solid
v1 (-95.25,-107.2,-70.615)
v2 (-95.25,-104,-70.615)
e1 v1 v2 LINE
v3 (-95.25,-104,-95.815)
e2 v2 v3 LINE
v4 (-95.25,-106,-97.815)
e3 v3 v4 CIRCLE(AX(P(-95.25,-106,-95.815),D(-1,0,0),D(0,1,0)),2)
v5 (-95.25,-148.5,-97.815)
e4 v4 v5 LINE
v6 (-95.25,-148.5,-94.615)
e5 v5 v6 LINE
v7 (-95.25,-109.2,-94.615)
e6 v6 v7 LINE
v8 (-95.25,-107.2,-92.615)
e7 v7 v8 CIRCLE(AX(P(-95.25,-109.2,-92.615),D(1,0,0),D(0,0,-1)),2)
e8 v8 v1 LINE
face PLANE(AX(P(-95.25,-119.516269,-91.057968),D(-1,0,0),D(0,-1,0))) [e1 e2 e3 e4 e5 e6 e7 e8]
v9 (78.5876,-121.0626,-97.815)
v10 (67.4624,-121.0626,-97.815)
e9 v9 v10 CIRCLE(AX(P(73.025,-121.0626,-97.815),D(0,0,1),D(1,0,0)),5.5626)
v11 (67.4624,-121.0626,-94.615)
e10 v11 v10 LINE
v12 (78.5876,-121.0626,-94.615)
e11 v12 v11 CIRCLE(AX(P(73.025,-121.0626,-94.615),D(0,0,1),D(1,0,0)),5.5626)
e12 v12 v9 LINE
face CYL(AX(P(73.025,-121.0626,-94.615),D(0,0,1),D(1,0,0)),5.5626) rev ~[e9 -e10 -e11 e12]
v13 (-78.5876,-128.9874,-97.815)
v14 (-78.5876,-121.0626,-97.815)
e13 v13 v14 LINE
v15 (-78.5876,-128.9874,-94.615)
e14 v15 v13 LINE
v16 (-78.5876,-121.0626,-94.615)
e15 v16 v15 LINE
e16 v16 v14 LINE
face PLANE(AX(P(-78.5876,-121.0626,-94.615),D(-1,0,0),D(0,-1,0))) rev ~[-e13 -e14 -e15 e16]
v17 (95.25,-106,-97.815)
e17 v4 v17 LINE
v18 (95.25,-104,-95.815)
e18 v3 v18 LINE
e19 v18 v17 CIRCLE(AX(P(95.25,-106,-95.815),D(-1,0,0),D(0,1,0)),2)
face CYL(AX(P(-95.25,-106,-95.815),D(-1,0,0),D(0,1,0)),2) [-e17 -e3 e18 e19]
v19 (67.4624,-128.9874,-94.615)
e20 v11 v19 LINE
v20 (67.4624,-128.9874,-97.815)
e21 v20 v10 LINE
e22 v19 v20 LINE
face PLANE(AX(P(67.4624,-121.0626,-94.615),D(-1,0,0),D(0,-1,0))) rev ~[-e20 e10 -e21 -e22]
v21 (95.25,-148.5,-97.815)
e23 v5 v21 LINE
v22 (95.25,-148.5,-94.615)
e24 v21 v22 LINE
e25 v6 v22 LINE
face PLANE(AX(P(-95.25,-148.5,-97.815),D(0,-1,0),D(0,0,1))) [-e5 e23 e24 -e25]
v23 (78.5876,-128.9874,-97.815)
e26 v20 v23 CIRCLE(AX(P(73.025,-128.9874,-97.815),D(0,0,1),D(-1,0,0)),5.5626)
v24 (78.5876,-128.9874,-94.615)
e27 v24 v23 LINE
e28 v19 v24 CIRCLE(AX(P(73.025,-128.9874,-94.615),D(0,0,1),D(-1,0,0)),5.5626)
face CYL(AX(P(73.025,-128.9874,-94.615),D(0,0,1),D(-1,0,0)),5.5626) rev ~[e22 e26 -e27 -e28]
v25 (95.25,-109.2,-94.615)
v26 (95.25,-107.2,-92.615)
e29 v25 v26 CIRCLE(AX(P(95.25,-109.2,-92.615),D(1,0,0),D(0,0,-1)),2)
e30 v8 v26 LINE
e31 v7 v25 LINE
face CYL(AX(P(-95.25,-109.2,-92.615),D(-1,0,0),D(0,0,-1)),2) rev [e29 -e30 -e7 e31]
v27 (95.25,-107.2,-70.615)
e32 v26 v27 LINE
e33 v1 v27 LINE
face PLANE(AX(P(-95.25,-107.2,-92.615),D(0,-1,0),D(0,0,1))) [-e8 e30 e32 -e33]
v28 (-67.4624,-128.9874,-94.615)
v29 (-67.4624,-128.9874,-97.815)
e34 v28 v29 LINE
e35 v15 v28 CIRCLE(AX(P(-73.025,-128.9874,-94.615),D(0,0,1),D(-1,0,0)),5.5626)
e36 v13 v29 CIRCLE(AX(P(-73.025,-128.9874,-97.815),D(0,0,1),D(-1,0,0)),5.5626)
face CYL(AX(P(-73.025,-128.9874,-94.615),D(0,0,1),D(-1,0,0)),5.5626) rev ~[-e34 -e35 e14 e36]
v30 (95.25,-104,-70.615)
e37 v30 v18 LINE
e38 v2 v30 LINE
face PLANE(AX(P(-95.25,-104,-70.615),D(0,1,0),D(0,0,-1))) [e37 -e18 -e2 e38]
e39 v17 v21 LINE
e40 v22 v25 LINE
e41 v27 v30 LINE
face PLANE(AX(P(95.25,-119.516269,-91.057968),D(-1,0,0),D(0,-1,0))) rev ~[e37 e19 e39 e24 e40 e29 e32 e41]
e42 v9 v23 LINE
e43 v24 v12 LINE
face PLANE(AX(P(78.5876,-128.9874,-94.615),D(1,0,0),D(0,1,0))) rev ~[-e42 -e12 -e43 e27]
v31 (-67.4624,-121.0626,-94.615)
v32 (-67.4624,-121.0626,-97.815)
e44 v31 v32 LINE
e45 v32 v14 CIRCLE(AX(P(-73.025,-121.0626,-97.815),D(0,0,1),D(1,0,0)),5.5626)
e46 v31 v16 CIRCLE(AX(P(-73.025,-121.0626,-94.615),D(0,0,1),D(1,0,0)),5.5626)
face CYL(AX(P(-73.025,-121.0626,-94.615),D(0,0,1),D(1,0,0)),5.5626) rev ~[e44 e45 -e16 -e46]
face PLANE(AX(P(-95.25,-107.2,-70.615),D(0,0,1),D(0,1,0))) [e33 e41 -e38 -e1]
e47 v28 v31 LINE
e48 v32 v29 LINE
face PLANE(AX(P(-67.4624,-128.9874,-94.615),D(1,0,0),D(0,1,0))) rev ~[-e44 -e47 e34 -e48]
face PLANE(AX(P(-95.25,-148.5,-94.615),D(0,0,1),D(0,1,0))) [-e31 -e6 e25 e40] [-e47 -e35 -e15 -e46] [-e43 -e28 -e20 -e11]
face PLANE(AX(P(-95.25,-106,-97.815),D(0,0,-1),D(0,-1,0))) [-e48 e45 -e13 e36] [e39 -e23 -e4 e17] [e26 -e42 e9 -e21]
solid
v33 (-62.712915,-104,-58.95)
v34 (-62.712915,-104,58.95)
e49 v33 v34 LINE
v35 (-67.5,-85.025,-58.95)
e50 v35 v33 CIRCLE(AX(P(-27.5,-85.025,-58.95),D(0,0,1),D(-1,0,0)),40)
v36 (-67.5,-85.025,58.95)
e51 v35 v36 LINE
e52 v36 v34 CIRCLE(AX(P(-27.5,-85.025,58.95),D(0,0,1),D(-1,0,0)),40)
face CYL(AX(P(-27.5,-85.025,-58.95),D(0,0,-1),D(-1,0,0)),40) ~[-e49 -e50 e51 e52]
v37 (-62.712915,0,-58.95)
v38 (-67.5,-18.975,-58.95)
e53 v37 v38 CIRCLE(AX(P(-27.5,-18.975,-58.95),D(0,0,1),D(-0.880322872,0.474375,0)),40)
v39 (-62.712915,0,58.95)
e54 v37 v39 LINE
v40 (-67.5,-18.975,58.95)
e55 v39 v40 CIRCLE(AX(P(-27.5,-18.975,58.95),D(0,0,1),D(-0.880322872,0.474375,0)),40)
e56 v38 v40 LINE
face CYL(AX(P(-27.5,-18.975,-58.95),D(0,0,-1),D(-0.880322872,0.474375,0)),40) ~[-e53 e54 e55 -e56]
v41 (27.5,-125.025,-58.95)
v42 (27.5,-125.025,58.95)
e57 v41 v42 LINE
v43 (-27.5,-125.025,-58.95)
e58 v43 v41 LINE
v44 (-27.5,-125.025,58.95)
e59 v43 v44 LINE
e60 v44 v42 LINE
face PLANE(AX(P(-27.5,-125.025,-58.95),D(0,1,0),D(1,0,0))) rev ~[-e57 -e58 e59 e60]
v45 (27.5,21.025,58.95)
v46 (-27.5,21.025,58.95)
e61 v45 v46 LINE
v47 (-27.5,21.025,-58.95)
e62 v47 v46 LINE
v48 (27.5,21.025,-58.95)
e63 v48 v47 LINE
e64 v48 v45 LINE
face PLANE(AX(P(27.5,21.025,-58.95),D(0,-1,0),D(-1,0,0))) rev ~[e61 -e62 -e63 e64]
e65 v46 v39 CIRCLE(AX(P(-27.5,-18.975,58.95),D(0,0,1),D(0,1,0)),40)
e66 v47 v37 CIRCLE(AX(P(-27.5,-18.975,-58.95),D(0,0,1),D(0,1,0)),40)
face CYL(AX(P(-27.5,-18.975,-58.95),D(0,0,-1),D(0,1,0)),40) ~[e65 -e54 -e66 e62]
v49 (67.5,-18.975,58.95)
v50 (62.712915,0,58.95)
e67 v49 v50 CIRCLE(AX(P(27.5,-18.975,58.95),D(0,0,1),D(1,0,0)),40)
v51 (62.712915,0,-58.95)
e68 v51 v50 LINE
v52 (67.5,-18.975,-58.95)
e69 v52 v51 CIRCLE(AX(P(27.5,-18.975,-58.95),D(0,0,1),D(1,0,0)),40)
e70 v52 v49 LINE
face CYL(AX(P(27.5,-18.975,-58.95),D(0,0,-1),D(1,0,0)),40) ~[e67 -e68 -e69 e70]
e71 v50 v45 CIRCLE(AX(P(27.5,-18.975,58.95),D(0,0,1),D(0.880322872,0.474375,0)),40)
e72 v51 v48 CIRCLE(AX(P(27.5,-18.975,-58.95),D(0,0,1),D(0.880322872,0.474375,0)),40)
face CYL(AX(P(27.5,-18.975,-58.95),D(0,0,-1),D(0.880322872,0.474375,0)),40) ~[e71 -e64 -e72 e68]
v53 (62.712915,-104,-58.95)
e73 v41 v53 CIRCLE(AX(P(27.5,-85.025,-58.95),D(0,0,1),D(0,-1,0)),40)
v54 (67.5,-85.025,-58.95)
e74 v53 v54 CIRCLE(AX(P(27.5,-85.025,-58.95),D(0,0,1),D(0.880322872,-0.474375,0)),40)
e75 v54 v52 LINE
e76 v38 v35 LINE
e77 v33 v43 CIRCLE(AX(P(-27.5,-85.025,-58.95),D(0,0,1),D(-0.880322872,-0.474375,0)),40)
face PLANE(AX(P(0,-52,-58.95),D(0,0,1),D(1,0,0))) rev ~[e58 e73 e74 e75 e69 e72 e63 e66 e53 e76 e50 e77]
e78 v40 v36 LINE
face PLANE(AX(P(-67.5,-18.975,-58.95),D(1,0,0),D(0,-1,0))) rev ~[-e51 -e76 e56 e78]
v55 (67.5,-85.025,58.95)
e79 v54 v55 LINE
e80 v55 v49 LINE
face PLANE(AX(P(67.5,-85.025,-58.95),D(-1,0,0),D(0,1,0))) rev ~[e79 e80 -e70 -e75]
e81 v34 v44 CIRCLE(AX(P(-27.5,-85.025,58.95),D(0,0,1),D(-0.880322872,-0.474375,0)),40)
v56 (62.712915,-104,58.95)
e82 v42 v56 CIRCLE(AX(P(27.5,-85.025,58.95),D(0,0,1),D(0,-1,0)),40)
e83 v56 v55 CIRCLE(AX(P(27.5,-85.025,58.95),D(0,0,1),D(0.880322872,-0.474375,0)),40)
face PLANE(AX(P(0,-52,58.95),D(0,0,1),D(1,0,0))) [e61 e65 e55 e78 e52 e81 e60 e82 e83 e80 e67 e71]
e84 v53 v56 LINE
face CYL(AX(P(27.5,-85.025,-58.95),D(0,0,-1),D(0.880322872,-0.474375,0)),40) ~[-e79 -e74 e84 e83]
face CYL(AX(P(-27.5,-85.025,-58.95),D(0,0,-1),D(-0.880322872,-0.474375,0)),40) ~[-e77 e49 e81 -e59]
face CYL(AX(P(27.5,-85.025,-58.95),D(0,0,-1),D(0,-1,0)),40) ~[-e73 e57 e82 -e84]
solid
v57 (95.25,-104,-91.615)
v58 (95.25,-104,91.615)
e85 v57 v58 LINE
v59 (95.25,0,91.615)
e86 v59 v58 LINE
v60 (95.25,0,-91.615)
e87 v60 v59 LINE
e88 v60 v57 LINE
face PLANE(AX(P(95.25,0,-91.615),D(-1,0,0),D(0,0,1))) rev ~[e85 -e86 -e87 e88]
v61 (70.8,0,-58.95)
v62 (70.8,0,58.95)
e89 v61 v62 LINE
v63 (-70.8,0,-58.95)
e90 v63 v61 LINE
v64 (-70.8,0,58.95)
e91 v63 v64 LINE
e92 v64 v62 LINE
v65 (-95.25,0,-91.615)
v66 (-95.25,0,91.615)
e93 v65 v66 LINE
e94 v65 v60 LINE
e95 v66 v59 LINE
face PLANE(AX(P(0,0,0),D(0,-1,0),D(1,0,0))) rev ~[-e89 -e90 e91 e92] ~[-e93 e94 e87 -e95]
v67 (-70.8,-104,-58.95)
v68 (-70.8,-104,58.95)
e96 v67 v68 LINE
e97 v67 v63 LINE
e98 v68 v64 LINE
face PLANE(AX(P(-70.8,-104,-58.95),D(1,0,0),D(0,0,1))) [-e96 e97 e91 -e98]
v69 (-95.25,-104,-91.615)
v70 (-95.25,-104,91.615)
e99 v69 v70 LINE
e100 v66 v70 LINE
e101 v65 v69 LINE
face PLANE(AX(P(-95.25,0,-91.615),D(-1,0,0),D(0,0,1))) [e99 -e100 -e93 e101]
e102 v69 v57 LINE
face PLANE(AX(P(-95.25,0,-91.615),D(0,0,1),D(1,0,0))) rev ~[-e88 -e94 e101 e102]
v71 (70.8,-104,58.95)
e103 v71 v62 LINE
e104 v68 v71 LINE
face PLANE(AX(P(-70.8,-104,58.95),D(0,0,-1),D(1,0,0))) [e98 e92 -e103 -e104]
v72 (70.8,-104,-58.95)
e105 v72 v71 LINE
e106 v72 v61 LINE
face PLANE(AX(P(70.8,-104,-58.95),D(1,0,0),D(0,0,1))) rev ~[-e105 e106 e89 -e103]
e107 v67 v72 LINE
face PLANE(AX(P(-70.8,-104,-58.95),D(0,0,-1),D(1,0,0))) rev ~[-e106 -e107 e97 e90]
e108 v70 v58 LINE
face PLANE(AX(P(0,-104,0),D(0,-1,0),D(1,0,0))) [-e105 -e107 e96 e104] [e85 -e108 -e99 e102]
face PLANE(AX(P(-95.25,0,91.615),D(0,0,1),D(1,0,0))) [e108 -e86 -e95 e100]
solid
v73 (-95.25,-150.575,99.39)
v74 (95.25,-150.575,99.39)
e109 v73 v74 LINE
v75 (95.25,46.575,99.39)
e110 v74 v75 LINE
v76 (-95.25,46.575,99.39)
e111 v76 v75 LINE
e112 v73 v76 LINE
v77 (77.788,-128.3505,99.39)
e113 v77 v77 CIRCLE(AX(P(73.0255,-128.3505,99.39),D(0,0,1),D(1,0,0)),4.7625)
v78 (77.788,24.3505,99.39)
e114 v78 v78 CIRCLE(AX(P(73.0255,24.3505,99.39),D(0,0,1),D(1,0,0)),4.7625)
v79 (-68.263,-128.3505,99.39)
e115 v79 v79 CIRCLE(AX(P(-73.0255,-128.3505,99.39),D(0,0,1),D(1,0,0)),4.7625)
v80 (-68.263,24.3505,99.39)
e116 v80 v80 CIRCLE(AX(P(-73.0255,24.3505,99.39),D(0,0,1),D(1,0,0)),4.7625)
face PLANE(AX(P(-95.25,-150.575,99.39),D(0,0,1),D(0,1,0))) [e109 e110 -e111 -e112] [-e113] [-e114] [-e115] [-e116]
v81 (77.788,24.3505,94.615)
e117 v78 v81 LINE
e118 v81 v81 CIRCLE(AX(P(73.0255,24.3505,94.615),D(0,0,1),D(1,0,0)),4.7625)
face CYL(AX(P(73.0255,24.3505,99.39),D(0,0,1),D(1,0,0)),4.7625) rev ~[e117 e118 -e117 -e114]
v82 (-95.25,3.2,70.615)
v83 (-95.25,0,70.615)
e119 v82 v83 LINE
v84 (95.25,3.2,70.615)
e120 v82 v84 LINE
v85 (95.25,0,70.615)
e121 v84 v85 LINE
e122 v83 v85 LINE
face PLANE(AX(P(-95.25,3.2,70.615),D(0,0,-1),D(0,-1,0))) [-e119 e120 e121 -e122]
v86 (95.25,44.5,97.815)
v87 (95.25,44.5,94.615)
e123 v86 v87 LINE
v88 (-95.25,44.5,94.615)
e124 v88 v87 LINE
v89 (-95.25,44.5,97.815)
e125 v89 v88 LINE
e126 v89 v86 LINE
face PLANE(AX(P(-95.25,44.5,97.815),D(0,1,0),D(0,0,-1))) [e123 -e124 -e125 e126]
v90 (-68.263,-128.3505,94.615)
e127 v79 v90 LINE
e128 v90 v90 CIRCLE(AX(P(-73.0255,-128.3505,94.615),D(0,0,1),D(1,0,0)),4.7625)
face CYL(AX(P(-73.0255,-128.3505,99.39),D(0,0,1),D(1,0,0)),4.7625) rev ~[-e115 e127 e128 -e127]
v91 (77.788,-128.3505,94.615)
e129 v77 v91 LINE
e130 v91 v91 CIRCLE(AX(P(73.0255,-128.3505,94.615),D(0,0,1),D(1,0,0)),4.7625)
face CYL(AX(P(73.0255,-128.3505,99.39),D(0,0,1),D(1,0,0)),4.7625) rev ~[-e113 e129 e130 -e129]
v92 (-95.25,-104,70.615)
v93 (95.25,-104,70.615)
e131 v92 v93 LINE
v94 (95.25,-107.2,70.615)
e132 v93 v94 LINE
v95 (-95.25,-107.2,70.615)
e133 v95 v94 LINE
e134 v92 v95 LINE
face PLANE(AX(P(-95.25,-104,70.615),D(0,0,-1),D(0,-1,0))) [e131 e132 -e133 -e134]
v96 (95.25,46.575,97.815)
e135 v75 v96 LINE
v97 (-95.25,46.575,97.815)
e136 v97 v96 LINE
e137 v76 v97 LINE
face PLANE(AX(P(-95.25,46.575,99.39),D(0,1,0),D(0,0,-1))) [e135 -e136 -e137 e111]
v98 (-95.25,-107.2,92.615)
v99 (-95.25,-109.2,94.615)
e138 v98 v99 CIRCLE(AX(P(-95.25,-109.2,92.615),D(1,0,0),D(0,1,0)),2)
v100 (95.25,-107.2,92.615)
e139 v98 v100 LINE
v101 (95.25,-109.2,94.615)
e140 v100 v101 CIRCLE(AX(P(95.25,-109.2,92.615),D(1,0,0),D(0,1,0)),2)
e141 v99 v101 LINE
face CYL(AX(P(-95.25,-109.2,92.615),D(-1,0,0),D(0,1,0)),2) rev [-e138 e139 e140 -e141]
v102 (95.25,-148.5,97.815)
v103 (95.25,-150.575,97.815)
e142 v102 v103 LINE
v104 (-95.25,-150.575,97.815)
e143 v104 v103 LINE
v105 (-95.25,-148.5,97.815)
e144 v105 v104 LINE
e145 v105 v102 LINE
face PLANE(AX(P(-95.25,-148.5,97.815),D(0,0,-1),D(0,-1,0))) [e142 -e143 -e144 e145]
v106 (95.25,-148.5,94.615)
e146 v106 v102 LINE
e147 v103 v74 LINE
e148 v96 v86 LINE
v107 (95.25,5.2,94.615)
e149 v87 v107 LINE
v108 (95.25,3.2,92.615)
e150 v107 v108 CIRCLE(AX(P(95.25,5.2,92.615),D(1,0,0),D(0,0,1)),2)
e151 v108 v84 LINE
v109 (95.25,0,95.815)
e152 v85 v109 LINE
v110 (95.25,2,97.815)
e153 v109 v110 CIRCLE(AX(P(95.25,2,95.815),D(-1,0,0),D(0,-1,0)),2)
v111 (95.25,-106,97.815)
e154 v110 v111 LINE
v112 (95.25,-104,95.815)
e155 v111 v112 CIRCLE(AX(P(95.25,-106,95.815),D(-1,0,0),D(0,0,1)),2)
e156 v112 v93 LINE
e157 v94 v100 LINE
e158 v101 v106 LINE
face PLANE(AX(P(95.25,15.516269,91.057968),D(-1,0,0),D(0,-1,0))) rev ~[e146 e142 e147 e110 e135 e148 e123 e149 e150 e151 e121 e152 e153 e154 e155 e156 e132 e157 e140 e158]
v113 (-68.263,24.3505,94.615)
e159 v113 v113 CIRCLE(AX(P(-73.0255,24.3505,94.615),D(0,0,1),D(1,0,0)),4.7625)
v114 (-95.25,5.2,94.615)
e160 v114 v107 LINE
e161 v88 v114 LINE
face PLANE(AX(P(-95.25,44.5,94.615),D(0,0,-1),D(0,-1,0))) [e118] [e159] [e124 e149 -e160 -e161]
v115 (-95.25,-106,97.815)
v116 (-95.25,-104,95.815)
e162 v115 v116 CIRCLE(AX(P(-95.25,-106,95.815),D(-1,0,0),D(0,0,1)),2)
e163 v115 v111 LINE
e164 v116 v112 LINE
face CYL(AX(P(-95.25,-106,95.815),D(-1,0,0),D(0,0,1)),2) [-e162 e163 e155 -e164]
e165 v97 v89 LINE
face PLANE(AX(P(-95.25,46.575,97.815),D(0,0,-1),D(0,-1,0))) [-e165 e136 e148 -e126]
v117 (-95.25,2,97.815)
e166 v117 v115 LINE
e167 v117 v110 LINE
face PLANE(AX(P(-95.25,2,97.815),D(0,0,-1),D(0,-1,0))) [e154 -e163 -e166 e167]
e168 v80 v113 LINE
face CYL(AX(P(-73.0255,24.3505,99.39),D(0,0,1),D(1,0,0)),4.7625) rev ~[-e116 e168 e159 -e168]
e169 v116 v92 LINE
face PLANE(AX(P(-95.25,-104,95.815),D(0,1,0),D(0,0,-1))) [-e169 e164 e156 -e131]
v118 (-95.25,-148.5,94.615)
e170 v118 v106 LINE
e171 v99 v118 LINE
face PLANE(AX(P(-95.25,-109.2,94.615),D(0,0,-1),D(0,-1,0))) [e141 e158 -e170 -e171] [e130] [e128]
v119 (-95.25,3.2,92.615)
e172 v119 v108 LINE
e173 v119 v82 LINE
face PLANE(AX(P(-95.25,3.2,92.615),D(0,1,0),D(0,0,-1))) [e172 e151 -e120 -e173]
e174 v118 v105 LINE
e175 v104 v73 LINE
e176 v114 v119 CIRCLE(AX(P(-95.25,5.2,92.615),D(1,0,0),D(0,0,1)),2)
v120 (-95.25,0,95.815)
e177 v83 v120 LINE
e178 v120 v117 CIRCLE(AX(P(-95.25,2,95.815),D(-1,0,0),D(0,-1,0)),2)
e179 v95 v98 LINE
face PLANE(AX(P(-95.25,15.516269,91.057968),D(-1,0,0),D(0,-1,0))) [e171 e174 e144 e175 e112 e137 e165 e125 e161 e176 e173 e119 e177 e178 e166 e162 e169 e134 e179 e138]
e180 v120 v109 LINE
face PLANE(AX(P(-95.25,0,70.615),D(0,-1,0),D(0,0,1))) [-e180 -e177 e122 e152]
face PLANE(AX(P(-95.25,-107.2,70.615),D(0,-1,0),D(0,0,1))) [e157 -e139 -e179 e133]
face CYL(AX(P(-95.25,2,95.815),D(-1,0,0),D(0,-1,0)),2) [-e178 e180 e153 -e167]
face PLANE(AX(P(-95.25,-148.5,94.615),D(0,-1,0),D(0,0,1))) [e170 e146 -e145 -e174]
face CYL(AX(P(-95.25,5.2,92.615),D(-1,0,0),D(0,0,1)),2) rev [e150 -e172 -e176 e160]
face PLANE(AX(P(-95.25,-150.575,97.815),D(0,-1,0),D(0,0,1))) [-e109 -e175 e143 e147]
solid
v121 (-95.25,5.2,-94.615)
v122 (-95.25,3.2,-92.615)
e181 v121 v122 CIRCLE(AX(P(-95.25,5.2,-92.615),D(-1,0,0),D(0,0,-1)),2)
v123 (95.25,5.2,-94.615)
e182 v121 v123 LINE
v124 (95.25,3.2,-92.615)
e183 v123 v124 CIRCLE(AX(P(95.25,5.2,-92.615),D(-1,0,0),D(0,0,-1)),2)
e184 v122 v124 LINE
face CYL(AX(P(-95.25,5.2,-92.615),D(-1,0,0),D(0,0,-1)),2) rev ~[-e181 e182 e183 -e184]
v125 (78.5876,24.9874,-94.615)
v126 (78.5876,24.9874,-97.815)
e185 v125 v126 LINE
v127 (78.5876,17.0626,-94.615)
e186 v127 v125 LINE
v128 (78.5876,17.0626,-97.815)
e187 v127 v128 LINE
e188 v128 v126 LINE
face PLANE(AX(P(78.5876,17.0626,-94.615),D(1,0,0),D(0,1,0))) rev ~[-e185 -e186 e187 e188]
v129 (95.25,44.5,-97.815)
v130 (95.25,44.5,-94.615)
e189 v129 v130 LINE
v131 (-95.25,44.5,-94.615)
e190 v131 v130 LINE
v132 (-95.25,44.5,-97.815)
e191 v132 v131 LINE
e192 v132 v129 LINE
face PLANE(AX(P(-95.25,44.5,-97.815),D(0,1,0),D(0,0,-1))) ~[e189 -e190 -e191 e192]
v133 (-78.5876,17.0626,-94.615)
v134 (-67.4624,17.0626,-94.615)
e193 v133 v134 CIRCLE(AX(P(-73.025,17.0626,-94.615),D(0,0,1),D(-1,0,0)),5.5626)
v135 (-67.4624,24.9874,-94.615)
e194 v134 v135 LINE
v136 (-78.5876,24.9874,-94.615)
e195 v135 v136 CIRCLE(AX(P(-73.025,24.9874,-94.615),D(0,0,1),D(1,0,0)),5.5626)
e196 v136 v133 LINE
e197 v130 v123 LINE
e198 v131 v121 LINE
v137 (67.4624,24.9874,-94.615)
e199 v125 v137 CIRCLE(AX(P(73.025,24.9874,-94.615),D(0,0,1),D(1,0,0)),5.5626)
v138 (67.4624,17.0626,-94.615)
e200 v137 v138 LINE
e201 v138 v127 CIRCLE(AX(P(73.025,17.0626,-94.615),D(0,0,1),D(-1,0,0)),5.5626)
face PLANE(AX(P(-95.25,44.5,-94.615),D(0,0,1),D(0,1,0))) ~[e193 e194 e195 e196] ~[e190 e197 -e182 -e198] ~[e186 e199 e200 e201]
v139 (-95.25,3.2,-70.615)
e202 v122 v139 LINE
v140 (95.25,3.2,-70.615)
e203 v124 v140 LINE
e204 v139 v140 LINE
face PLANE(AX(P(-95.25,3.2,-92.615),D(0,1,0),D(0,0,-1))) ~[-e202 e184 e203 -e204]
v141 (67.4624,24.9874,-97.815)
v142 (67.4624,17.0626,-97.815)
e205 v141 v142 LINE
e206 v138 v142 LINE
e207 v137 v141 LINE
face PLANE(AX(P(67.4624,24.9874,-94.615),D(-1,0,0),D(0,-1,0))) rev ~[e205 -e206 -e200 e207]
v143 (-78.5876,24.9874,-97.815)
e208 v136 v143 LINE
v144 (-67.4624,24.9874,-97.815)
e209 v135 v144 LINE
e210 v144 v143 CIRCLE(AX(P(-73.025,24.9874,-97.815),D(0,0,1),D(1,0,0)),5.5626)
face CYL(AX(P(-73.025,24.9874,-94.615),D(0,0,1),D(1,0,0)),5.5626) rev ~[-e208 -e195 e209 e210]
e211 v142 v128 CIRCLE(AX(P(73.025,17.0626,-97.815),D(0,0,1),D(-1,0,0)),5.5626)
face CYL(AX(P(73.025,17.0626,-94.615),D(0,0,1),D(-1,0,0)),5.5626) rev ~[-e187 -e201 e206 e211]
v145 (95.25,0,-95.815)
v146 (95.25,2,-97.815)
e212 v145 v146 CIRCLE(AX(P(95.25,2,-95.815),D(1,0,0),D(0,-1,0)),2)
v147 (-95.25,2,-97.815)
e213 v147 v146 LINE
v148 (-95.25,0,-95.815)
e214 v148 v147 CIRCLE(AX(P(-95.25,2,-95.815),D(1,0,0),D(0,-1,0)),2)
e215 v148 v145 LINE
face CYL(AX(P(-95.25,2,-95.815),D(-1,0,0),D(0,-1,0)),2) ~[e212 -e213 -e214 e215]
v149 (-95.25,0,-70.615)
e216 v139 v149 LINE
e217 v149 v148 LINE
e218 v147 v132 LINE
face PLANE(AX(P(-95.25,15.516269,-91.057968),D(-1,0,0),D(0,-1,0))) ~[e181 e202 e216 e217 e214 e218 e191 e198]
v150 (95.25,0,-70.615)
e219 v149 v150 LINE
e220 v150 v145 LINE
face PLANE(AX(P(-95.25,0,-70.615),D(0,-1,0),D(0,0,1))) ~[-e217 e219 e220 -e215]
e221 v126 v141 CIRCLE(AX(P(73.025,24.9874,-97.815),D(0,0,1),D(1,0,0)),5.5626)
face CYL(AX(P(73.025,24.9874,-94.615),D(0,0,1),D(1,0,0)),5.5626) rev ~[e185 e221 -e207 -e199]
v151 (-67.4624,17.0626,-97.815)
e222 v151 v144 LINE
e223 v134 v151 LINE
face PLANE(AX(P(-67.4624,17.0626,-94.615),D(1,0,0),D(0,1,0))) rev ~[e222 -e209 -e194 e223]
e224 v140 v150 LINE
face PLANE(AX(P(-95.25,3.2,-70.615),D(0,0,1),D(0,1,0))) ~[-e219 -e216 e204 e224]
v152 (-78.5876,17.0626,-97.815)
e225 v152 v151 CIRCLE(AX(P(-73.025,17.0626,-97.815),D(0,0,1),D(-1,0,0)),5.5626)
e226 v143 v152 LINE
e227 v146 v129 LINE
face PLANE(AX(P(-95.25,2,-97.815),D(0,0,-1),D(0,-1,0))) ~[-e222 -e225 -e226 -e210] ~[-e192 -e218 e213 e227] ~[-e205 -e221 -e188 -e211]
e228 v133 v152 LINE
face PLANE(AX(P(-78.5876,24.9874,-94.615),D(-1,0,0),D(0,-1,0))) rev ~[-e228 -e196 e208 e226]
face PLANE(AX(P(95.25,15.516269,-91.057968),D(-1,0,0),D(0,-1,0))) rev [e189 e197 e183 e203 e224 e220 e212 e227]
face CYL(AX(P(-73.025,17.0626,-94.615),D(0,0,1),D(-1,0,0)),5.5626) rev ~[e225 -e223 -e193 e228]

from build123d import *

# Parameters (mm, degrees)
F0_W      = 190.5
F0_H      = 183.23
F1_DEPTH  = 104
F3_DEPTH  = 190.5
F9_DEPTH  = 3.201
F10_W     = 141.6
F10_H     = 117.9
F11_DEPTH = 150.576
F13_DEPTH = 117.9
F14_R     = 4.7625
F15_DEPTH = 25


with BuildPart() as f1:
    # F0 (on Front) → F1 (new body)
    with BuildSketch(Plane.XZ):
        Rectangle(F0_W, F0_H)
    extrude(amount=F1_DEPTH)

    # F10 (on face) → F11 (cut, through all)
    with BuildSketch(Plane.XZ.offset(104)):
        Rectangle(F10_W, F10_H)
    extrude(amount=-F11_DEPTH, mode=Mode.SUBTRACT)


with BuildPart() as f3:
    # F2 (on face) → F3 (new body, through all)
    with BuildSketch(Plane(origin=(-95.25, 0, 0), x_dir=(0, -1, 0), z_dir=(-1, 0, 0))):
        with BuildLine():
            Line((-3.2, 70.615), (0, 70.615))
            Line((0, 70.615), (0, 91.615))
            Line((0, 91.615), (0, 94.615))
            Line((0, 94.615), (0, 95.815))
            ThreePointArc((0, 95.815), (-0.5857864376, 97.2292135624), (-2, 97.815))
            Line((-2, 97.815), (-44.5, 97.815))
            Line((-44.5, 97.815), (-44.5, 94.615))
            Line((-44.5, 94.615), (-5.2, 94.615))
            ThreePointArc((-5.2, 94.615), (-3.7857864376, 94.0292135624), (-3.2, 92.615))
            Line((-3.2, 92.615), (-3.2, 70.615))
        make_face()
        with BuildLine():
            Line((104, 91.615), (104, 70.615))
            Line((104, 70.615), (107.2, 70.615))
            Line((107.2, 70.615), (107.2, 92.615))
            ThreePointArc((107.2, 92.615), (107.7857864376, 94.0292135624), (109.2, 94.615))
            Line((109.2, 94.615), (148.5, 94.615))
            Line((148.5, 94.615), (148.5, 97.815))
            Line((148.5, 97.815), (106, 97.815))
            ThreePointArc((106, 97.815), (104.5857864376, 97.2292135624), (104, 95.815))
            Line((104, 95.815), (104, 94.615))
            Line((104, 94.615), (104, 91.615))
        make_face()
        Polygon((-2, 97.815), (106, 97.815), (148.5, 97.815), (150.575, 97.815), (150.575, 99.39), (-46.575, 99.39), (-46.575, 97.815), (-44.5, 97.815), align=None)
    extrude(amount=-F3_DEPTH)

    # F14 (on face) → F15 (cut)
    with BuildSketch(Plane.XY.offset(99.39)):
        with Locations((-73.0255, 24.3505)):
            Circle(F14_R)
        with Locations((73.0255, 24.3505)):
            Circle(F14_R)
        with Locations((-73.0255, -128.3505)):
            Circle(F14_R)
        with Locations((73.0255, -128.3505)):
            Circle(F14_R)
    extrude(amount=-F15_DEPTH, mode=Mode.SUBTRACT)


with BuildPart() as f3b:
    # F2 (on face) → F3, piece 2 (new body, through all)
    with BuildSketch(Plane(origin=(-95.25, 0, 0), x_dir=(0, -1, 0), z_dir=(-1, 0, 0))):
        with BuildLine():
            Line((107.2, -70.615), (104, -70.615))
            Line((104, -70.615), (104, -91.615))
            Line((104, -91.615), (104, -94.615))
            Line((104, -94.615), (104, -95.815))
            ThreePointArc((104, -95.815), (104.5857864376, -97.2292135624), (106, -97.815))
            Line((106, -97.815), (148.5, -97.815))
            Line((148.5, -97.815), (148.5, -94.615))
            Line((148.5, -94.615), (109.2, -94.615))
            ThreePointArc((109.2, -94.615), (107.7857864376, -94.0292135624), (107.2, -92.615))
            Line((107.2, -92.615), (107.2, -70.615))
        make_face()
    extrude(amount=-F3_DEPTH)


with BuildPart() as f7_1:
    # F7: instance of F3b
    add(f3b.part.mirror(Plane(origin=(95.25, -52, 0), x_dir=(-1, 0, 0), z_dir=(0, 1, 0))))


with BuildPart() as f9_tool:
    # F8 (on face) → F9 (new body, through all)
    with BuildSketch(Plane.XY.offset(-94.615)):
        with BuildLine():
            Line((-67.4624, -128.9874), (-67.4624, -121.0626))
            ThreePointArc((-67.4624, -121.0626), (-73.025, -115.5), (-78.5876, -121.0626))
            Line((-78.5876, -121.0626), (-78.5876, -128.9874))
            ThreePointArc((-78.5876, -128.9874), (-73.025, -134.55), (-67.4624, -128.9874))
        make_face()
        with BuildLine():
            ThreePointArc((-67.4624, 24.9874), (-73.025, 30.55), (-78.5876, 24.9874))
            Line((-78.5876, 24.9874), (-78.5876, 17.0626))
            ThreePointArc((-78.5876, 17.0626), (-73.025, 11.5), (-67.4624, 17.0626))
            Line((-67.4624, 17.0626), (-67.4624, 24.9874))
        make_face()
        with BuildLine():
            ThreePointArc((78.5876, -121.0626), (73.025, -115.5), (67.4624, -121.0626))
            Line((67.4624, -121.0626), (67.4624, -128.9874))
            ThreePointArc((67.4624, -128.9874), (73.025, -134.55), (78.5876, -128.9874))
            Line((78.5876, -128.9874), (78.5876, -121.0626))
        make_face()
        with BuildLine():
            Line((67.4624, 24.9874), (67.4624, 17.0626))
            ThreePointArc((67.4624, 17.0626), (73.025, 11.5), (78.5876, 17.0626))
            Line((78.5876, 17.0626), (78.5876, 24.9874))
            ThreePointArc((78.5876, 24.9874), (73.025, 30.55), (67.4624, 24.9874))
        make_face()
    extrude(amount=-F9_DEPTH)


with BuildPart() as f3b_1:
    add(f3b.part)

    # F9: cut by f9_tool
    add(f9_tool.part, mode=Mode.SUBTRACT)


with BuildPart() as f7_1_1:
    add(f7_1.part)

    # F9: cut by f9_tool
    add(f9_tool.part, mode=Mode.SUBTRACT)


with BuildPart() as f13:
    # F12 (on face) → F13 (new body, through all)
    with BuildSketch(Plane.XY.offset(-58.95)):
        with BuildLine():
            ThreePointArc((-67.5, -85.025), (-66.2847688892, -94.8097688892), (-62.7129148893, -104))
            Line((-62.7129148893, -104), (62.7129148893, -104))
            ThreePointArc((62.7129148893, -104), (66.2847688892, -94.8097688892), (67.5, -85.025))
            Line((67.5, -85.025), (67.5, -18.975))
            ThreePointArc((67.5, -18.975), (66.2847688892, -9.1902311108), (62.7129148893, 0))
            Line((62.7129148893, 0), (-62.7129148893, 0))
            ThreePointArc((-62.7129148893, 0), (-66.2847688892, -9.1902311108), (-67.5, -18.975))
            Line((-67.5, -18.975), (-67.5, -85.025))
        make_face()
        with BuildLine():
            ThreePointArc((-27.5, 21.025), (-48.0060966544, 15.3688495221), (-62.7129148893, 0))
            Line((-62.7129148893, 0), (62.7129148893, 0))
            ThreePointArc((62.7129148893, 0), (48.0060966544, 15.3688495221), (27.5, 21.025))
            Line((27.5, 21.025), (-27.5, 21.025))
        make_face()
        with BuildLine():
            ThreePointArc((-62.7129148893, -104), (-48.0060966544, -119.3688495221), (-27.5, -125.025))
            Line((-27.5, -125.025), (27.5, -125.025))
            ThreePointArc((27.5, -125.025), (48.0060966544, -119.3688495221), (62.7129148893, -104))
            Line((62.7129148893, -104), (-62.7129148893, -104))
        make_face()
    extrude(amount=F13_DEPTH)


solid = Compound([f1.part, f3.part, f3b_1.part, f7_1_1.part, f13.part])
